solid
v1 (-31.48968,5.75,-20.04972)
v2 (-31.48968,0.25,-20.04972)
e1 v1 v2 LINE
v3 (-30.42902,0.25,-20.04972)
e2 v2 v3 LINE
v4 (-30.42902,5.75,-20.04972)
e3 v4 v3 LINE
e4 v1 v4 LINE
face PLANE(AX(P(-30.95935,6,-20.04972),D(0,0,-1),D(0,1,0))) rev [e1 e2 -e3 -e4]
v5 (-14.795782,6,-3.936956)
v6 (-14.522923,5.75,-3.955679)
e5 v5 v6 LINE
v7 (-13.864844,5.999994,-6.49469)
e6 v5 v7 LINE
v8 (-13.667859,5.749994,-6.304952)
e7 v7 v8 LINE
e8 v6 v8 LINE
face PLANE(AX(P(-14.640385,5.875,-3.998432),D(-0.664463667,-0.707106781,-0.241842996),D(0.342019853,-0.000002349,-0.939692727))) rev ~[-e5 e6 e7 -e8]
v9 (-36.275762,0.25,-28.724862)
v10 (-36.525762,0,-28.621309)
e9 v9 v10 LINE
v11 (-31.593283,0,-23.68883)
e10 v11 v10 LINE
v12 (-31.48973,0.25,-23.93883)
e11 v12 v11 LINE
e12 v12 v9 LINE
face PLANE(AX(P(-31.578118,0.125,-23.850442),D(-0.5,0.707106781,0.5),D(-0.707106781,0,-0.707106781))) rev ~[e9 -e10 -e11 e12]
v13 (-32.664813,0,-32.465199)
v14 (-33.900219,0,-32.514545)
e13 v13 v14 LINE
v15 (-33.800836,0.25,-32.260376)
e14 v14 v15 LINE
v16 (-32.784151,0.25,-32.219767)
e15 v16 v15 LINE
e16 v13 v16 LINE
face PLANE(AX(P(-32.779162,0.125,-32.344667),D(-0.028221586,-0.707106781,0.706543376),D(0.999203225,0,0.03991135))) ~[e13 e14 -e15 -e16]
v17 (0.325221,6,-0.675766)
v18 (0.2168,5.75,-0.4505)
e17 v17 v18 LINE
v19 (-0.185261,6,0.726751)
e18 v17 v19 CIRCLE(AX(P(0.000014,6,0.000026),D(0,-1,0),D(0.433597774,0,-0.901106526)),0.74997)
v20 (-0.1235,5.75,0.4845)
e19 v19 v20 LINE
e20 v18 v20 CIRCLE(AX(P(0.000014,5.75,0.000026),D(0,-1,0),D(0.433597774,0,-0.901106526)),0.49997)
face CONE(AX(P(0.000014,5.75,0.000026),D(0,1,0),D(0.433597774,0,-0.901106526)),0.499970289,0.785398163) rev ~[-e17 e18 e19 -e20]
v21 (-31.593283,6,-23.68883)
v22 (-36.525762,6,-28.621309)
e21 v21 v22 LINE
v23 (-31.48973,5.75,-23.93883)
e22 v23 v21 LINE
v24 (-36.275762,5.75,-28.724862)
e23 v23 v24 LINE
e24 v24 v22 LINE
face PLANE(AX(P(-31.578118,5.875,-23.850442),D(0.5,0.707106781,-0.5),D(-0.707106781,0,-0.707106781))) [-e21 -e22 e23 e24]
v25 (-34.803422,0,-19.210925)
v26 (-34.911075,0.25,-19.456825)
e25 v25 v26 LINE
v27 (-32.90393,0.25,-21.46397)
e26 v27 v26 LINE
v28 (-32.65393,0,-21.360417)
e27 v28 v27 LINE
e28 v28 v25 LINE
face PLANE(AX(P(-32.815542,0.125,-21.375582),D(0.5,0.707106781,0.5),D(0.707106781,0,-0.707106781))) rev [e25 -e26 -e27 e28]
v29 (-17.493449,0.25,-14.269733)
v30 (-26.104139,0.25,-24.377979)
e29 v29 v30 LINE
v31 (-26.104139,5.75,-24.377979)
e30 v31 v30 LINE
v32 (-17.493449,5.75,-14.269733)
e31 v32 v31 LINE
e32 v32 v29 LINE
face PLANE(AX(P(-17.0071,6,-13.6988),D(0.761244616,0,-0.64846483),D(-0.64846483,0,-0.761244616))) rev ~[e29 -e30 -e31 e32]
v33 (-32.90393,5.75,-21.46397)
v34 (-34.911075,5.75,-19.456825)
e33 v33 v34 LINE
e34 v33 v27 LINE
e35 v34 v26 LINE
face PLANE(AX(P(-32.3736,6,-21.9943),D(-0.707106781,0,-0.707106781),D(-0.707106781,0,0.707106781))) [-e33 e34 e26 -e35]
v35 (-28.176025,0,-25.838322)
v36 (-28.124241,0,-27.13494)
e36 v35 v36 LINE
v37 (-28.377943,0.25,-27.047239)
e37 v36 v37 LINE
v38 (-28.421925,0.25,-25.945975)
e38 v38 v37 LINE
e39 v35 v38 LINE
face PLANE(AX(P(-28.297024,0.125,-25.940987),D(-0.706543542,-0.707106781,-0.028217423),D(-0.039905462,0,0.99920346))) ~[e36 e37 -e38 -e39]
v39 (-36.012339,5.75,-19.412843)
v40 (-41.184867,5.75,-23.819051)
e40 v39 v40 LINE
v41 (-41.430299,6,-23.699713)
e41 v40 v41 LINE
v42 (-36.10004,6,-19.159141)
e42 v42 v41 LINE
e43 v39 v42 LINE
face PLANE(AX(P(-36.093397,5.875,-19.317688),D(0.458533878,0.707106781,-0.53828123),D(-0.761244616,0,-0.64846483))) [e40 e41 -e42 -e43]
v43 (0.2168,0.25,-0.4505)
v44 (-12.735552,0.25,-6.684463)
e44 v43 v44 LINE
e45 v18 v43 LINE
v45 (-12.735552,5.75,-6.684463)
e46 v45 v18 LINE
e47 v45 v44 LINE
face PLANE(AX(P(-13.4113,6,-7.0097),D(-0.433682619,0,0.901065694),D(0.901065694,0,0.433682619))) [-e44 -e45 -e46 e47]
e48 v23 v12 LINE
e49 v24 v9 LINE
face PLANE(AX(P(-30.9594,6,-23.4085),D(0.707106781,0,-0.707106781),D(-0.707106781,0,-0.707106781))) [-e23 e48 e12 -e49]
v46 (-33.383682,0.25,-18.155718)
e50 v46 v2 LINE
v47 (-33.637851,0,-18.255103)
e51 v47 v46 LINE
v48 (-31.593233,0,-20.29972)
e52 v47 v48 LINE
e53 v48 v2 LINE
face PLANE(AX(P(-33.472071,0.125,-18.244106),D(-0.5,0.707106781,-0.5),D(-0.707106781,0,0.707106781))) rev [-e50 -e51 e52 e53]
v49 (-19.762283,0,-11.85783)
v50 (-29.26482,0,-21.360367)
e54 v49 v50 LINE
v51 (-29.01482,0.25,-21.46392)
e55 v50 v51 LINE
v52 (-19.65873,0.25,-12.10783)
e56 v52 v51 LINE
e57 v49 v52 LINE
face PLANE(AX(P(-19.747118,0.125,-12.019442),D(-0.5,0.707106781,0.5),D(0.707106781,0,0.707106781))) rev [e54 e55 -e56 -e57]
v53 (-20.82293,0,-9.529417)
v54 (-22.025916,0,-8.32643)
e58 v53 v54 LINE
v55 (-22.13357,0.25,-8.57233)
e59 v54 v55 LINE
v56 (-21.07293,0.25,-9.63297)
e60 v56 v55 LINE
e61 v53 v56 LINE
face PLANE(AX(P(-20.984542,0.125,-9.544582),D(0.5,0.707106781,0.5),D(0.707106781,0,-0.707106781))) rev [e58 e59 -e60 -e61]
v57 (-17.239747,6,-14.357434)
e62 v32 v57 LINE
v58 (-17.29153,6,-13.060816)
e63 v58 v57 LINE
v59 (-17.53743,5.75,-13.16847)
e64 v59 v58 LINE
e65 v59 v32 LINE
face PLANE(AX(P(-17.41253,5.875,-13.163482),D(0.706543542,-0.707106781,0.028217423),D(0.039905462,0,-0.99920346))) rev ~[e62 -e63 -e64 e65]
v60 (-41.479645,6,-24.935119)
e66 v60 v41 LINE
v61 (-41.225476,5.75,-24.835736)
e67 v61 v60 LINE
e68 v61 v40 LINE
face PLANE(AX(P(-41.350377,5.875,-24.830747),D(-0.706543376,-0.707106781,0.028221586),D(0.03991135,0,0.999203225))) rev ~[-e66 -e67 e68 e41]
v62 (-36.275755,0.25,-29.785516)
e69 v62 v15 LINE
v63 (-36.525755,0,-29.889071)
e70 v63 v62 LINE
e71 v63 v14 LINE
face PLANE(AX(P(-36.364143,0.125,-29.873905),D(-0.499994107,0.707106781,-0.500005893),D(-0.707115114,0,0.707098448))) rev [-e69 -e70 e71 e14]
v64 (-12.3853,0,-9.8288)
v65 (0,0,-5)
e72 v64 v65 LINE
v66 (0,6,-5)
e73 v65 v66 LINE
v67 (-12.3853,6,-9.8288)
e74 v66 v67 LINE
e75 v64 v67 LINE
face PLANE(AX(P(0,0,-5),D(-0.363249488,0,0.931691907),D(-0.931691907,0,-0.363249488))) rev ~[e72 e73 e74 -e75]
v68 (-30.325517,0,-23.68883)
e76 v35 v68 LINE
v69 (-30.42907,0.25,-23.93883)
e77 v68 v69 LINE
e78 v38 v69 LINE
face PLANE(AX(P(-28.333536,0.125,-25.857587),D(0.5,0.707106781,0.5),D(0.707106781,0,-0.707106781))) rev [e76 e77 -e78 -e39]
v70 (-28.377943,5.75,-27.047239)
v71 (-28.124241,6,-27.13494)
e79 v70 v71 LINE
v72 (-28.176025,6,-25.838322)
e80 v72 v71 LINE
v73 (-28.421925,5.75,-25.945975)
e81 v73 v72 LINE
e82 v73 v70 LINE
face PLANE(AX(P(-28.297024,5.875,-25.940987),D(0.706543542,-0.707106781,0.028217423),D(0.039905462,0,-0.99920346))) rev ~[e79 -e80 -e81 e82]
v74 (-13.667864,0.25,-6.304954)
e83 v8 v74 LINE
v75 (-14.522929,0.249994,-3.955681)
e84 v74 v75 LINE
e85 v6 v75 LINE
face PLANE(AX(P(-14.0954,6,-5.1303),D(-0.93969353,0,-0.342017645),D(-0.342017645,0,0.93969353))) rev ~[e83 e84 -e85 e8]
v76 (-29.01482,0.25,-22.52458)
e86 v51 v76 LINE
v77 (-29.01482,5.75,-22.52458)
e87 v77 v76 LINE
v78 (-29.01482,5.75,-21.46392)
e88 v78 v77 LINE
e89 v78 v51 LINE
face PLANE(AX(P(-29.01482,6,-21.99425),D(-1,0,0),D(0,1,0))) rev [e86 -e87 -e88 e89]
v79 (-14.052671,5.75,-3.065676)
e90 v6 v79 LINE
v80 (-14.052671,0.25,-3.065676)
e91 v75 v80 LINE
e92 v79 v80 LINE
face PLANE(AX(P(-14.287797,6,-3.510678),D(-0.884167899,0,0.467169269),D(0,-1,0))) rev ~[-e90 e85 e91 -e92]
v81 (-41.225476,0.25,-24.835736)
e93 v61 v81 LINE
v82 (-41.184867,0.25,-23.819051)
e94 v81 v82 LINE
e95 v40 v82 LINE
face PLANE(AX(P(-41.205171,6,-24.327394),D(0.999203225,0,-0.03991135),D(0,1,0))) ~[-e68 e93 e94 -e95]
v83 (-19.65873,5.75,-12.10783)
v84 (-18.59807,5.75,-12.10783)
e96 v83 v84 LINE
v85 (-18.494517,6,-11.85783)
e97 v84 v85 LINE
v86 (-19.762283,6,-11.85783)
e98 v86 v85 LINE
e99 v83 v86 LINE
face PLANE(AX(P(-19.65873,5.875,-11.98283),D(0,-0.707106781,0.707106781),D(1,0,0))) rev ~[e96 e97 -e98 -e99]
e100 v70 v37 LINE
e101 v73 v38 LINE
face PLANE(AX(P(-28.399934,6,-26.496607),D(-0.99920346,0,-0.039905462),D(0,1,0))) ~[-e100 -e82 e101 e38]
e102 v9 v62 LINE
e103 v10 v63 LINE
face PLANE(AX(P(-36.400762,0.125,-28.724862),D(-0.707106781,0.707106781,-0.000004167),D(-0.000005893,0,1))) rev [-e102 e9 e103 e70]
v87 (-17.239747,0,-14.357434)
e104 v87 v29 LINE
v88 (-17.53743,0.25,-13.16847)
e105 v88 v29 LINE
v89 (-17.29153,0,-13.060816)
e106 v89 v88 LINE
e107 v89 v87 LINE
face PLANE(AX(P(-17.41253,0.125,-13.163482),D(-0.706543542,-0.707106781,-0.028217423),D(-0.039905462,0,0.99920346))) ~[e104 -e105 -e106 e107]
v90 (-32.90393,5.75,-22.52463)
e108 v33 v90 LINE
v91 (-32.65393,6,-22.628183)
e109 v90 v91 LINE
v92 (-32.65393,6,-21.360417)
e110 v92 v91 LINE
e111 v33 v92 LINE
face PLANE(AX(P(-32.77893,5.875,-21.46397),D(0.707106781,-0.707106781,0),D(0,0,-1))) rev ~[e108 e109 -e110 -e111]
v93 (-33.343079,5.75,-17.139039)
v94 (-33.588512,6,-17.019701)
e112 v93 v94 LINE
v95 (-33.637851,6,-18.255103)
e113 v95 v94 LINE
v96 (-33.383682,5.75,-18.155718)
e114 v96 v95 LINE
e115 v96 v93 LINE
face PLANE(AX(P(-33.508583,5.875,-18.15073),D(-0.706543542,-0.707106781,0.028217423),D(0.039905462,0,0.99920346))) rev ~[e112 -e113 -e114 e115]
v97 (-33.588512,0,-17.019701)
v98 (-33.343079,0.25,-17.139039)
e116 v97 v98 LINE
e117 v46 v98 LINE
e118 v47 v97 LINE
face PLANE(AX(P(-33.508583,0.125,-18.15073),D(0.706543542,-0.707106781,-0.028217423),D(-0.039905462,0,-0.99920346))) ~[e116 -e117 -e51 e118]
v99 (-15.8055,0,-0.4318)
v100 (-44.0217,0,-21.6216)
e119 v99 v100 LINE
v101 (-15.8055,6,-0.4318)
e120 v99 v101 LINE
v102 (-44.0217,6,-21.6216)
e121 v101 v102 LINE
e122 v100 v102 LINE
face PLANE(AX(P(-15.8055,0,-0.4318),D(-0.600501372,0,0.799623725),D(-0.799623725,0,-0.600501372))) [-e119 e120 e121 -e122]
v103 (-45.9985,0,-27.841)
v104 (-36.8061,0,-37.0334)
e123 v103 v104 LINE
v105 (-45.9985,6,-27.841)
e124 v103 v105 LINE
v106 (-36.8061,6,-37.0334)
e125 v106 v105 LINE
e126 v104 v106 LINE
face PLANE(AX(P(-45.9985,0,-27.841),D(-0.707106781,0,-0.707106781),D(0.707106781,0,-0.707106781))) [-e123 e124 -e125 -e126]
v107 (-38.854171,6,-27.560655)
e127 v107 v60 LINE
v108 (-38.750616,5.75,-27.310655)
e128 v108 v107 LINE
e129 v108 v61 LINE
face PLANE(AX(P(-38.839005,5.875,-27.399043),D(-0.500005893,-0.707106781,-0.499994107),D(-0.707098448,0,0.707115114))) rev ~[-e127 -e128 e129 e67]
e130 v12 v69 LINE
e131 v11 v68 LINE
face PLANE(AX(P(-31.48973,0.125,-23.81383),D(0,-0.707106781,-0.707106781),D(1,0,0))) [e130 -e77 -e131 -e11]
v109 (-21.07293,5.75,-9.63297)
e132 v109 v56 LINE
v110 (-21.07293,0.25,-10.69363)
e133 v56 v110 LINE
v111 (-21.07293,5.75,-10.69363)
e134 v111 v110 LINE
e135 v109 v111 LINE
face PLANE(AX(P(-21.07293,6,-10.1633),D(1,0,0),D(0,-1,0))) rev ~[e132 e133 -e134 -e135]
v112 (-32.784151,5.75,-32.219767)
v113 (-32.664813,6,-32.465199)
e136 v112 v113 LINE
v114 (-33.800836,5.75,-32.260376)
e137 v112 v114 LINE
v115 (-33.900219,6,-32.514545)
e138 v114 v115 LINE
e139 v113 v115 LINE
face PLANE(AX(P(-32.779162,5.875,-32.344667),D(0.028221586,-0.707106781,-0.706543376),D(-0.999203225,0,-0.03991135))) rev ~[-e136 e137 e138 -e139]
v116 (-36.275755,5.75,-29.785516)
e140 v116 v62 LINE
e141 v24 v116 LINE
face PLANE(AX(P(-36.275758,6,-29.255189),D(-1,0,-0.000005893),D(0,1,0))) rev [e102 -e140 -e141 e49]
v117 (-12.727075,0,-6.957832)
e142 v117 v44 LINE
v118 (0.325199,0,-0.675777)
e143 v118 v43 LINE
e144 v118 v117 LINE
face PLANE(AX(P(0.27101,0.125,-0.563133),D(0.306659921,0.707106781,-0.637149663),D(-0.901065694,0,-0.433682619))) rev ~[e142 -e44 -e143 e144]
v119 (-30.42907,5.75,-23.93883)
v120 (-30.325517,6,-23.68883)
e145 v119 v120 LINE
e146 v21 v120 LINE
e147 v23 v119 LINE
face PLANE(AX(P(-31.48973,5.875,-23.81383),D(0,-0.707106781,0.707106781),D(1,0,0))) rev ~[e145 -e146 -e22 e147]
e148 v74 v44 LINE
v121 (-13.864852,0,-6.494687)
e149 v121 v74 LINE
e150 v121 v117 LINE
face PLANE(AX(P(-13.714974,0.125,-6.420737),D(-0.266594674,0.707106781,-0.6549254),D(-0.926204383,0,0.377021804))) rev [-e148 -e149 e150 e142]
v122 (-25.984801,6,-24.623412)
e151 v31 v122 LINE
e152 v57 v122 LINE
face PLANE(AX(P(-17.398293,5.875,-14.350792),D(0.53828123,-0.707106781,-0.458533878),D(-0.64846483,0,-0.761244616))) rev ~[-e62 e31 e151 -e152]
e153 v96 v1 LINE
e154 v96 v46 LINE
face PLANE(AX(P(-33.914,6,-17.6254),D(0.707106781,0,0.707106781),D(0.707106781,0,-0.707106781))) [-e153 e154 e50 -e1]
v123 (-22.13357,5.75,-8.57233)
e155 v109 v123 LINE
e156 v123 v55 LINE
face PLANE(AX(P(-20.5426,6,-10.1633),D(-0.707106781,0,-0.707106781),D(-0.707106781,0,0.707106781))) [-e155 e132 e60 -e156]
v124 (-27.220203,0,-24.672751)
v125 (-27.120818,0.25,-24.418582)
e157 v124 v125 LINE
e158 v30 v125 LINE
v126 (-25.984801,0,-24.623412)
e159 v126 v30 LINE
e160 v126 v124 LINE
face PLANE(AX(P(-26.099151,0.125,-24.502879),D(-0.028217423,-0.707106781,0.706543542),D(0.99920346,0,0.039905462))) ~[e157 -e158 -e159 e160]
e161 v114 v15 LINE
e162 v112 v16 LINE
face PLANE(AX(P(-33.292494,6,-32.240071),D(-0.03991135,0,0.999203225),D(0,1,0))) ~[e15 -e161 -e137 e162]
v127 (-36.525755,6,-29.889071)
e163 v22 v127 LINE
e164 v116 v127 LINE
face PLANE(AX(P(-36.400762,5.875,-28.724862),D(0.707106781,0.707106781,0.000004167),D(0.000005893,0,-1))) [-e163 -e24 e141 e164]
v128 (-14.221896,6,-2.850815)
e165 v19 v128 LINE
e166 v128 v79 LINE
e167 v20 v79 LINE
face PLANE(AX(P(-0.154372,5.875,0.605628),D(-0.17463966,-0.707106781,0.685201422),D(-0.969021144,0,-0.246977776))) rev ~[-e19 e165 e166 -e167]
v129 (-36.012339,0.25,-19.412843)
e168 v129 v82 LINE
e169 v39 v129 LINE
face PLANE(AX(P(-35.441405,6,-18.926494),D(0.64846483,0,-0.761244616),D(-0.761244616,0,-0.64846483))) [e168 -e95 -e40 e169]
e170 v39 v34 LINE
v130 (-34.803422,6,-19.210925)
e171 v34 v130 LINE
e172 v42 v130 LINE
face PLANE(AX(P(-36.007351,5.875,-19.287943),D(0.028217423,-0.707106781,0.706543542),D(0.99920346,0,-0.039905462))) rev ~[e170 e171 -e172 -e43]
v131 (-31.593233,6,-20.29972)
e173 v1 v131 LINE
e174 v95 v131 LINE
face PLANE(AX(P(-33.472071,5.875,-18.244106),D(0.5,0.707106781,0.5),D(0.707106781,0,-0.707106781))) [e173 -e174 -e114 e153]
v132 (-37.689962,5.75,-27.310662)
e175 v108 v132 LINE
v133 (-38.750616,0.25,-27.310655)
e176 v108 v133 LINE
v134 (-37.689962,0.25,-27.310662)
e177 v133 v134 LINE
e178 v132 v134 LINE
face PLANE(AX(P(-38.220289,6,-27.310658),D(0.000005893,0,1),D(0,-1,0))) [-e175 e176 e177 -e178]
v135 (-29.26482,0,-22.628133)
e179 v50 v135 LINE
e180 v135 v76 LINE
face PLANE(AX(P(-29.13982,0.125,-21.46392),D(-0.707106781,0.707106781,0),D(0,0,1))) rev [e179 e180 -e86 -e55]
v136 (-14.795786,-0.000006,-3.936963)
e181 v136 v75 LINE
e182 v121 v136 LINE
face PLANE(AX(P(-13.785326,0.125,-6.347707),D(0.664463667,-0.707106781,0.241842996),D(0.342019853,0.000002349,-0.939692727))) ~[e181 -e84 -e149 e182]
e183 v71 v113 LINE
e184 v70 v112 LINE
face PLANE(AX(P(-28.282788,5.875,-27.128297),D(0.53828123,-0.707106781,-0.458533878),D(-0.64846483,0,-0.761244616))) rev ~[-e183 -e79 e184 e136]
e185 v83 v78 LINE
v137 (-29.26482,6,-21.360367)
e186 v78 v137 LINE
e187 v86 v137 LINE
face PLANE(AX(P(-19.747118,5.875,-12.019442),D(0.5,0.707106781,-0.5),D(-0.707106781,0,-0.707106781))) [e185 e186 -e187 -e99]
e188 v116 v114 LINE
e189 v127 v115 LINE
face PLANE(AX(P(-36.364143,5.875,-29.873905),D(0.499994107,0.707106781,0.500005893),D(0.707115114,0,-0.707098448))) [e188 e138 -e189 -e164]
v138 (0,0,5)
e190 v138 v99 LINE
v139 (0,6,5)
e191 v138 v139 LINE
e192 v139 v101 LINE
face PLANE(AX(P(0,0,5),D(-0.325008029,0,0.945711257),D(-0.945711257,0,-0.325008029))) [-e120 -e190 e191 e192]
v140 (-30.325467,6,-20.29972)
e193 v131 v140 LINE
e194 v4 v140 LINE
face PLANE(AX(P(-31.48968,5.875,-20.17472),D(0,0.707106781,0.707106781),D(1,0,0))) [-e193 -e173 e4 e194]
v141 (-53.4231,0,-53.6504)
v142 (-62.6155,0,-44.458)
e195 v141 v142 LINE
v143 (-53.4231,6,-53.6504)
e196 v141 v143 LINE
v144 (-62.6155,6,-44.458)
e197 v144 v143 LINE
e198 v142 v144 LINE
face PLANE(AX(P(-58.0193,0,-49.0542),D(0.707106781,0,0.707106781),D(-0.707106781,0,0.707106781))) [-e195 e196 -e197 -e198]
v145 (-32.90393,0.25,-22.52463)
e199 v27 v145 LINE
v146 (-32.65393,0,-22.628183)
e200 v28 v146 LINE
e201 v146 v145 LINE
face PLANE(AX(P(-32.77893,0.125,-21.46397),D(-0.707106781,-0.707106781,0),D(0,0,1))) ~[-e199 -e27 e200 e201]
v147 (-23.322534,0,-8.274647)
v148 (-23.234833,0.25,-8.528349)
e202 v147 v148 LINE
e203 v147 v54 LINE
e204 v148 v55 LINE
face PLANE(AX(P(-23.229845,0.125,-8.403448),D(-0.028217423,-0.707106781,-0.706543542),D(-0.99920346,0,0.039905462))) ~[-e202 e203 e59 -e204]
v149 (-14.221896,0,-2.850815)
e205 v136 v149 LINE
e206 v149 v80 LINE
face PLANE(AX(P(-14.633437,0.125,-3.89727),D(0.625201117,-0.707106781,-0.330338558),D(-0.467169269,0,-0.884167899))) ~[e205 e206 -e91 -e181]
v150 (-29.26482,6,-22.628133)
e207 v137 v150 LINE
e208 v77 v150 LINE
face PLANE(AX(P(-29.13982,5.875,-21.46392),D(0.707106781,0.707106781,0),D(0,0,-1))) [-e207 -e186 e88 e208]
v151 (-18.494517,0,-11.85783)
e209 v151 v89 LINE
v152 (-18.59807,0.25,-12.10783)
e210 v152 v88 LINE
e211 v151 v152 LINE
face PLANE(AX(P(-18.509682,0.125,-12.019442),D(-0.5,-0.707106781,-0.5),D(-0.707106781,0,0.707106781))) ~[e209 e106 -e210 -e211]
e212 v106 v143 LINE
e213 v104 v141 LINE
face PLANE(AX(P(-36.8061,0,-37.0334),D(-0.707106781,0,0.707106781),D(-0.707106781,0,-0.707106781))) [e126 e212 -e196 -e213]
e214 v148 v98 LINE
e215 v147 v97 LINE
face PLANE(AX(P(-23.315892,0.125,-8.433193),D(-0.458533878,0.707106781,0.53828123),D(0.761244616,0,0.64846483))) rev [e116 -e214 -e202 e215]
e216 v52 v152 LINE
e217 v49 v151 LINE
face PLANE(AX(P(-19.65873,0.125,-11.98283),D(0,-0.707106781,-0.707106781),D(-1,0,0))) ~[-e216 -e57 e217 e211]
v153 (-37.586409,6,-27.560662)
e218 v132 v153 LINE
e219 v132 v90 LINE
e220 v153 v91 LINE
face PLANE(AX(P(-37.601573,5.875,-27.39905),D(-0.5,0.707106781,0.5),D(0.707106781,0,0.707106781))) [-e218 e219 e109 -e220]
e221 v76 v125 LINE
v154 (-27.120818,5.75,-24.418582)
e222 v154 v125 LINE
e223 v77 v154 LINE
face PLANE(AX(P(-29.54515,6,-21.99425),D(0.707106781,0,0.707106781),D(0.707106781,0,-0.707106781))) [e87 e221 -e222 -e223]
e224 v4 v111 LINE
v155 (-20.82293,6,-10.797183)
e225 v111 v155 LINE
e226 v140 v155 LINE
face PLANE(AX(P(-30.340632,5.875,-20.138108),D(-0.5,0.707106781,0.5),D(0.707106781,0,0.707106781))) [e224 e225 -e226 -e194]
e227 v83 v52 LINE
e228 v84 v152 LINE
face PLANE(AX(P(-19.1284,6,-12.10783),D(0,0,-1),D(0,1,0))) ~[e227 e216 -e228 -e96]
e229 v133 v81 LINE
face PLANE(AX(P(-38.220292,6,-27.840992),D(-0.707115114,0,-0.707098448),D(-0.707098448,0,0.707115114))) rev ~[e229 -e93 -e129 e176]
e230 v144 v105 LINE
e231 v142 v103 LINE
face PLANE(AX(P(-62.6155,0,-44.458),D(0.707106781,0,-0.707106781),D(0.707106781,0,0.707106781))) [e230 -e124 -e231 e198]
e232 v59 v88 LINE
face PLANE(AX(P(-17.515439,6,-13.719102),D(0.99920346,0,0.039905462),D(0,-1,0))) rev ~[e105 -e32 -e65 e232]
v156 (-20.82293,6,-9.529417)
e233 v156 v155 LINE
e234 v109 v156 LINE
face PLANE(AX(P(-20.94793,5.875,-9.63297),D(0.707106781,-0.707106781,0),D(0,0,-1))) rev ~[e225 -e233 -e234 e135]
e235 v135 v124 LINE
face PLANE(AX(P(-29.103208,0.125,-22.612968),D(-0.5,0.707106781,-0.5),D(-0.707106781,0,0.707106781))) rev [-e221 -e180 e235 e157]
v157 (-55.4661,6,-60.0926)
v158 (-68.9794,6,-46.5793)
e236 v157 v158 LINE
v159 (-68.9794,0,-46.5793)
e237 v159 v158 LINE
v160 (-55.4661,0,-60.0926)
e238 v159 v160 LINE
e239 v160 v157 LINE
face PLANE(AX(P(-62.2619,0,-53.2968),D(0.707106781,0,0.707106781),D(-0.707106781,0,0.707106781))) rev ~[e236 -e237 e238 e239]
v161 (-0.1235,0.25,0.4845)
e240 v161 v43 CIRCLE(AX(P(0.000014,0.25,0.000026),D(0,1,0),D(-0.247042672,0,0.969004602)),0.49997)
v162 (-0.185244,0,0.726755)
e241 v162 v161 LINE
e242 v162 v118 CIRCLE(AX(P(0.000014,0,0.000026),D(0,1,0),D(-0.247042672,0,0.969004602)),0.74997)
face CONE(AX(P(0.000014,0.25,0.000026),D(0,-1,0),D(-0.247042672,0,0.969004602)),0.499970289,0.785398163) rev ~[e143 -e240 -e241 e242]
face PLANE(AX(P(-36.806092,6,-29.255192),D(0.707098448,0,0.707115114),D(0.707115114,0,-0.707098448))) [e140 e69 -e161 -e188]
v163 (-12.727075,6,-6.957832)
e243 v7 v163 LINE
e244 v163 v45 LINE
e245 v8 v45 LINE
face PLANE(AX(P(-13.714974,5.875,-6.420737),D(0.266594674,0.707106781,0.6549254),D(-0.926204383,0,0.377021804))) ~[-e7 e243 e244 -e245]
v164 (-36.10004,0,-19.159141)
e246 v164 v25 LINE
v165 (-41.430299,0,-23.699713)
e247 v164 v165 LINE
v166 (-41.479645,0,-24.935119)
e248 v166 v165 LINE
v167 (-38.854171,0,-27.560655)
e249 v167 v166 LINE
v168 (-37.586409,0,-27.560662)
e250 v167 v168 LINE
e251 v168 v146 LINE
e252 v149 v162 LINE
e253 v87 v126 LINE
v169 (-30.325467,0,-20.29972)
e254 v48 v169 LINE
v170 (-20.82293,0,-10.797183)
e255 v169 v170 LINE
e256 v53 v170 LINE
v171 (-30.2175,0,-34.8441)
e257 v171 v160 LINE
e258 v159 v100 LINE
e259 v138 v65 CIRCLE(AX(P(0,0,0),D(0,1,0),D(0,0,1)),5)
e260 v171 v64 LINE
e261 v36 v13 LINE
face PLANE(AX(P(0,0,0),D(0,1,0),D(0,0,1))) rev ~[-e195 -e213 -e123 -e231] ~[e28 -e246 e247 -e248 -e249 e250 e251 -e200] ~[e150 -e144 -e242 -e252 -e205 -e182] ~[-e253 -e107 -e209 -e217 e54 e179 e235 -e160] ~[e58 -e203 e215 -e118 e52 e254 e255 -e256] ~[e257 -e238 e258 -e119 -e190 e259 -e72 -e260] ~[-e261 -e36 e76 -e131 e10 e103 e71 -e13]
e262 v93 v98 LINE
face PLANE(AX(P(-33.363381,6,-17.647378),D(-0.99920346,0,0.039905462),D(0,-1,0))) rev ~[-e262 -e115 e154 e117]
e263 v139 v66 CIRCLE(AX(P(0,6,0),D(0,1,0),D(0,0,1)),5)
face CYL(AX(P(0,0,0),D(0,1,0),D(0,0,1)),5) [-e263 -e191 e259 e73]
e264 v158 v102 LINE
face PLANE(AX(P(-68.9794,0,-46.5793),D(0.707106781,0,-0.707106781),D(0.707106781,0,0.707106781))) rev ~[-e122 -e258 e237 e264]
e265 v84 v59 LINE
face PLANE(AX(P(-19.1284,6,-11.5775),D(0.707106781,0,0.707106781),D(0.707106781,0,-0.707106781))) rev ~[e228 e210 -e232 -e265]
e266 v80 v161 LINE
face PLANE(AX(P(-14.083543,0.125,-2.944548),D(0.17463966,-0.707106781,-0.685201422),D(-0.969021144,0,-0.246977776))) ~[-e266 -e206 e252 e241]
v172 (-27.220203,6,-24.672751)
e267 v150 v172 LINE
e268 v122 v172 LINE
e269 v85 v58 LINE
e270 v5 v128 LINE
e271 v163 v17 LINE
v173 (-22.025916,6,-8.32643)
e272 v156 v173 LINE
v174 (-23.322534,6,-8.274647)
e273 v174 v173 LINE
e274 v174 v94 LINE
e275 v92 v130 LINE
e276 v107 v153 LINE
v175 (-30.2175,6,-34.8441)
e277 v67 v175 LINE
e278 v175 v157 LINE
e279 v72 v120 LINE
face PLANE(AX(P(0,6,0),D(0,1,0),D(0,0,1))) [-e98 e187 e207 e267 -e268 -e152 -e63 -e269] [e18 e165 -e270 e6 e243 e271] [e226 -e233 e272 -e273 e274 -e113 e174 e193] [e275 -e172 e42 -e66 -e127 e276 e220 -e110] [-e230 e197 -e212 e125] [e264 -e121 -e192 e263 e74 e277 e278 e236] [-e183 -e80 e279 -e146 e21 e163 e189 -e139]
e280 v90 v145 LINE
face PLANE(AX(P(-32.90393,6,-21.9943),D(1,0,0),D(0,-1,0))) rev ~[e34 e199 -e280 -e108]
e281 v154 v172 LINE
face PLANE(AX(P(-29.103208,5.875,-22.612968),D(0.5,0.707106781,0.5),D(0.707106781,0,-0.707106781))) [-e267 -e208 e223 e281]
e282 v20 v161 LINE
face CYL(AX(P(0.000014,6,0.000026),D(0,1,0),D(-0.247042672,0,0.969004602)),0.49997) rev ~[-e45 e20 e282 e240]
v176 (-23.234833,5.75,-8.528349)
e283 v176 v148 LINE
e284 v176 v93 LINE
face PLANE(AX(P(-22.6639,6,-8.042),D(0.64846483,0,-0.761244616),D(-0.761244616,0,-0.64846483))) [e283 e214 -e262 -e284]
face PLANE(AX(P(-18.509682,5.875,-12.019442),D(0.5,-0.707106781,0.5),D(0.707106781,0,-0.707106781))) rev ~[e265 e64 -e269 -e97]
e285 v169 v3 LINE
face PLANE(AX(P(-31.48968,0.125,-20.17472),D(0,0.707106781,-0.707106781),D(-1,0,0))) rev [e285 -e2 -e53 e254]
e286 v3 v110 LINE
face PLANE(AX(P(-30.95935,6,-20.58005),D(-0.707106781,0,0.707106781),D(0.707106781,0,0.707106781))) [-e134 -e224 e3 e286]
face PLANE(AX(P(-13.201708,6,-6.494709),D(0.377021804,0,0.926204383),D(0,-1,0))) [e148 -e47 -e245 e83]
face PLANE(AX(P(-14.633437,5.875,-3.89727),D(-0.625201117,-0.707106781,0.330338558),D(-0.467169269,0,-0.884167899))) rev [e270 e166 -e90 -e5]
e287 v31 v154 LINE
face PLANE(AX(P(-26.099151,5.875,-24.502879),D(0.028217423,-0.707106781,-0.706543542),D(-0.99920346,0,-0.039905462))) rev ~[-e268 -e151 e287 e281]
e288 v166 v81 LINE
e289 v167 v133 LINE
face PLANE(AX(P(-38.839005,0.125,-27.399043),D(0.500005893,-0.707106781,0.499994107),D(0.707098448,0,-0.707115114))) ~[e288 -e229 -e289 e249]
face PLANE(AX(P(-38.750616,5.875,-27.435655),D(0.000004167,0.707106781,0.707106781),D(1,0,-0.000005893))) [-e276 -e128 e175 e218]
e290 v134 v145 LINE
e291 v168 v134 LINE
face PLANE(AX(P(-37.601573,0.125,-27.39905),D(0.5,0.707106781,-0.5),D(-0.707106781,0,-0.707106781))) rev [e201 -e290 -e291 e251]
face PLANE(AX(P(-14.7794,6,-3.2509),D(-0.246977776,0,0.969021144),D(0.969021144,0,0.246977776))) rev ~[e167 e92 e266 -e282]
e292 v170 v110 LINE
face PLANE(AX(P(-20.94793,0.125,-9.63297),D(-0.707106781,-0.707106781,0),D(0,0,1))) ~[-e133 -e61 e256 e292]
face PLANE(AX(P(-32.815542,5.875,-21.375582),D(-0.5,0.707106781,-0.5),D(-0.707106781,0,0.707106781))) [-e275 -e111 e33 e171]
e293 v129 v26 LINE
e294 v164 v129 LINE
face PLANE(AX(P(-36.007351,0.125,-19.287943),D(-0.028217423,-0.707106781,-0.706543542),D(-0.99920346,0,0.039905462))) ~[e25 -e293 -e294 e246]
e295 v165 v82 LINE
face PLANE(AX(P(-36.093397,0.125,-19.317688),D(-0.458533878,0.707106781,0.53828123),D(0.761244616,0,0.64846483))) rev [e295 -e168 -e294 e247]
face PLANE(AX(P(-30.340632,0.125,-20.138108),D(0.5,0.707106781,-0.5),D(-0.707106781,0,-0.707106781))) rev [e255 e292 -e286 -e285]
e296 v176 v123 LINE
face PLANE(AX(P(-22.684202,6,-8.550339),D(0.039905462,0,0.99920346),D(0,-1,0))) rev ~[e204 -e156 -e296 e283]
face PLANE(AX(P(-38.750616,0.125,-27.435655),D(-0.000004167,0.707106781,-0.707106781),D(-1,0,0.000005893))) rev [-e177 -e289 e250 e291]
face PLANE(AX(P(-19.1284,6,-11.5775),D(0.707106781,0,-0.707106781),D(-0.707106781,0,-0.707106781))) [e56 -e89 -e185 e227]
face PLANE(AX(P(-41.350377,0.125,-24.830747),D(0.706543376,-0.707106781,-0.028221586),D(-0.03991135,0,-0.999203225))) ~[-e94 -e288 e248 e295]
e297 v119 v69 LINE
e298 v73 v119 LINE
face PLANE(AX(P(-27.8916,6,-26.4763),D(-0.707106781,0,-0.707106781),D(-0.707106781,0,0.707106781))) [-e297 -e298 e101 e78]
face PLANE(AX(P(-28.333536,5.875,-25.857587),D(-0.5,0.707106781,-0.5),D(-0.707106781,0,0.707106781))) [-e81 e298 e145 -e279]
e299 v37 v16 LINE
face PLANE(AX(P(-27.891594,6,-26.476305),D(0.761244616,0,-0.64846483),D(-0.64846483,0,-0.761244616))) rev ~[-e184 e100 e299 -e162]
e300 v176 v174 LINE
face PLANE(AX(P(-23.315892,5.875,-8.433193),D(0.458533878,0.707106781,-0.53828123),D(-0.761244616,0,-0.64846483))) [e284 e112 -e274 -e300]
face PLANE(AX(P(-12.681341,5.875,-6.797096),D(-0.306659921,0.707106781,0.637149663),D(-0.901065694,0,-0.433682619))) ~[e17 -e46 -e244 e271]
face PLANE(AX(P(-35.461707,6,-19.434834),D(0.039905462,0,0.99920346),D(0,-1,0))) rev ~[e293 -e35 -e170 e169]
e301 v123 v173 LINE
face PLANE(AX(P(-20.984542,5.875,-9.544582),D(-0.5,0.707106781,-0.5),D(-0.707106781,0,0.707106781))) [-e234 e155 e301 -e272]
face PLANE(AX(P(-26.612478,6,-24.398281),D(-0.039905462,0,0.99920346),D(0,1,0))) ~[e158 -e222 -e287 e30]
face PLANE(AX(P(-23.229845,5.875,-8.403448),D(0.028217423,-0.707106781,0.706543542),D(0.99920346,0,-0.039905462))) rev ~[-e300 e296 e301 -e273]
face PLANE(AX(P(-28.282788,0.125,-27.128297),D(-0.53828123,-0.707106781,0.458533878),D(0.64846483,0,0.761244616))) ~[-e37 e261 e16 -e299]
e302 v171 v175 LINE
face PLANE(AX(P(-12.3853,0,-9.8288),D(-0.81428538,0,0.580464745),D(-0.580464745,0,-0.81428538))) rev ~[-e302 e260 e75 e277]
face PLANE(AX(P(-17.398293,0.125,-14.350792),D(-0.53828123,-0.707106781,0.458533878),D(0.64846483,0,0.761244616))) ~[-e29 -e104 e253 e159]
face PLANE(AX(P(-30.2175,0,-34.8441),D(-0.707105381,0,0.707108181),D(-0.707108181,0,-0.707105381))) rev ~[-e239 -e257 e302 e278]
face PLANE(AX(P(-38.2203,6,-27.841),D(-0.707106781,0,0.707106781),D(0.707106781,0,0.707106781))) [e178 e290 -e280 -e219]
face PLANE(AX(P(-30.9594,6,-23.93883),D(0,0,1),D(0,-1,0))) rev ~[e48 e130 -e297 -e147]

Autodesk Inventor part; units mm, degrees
ref_plane "YZ Plane" through (0, 0, 0) normal (1, 0, 0) x (0, 1, 0)
ref_plane "XZ Plane" through (0, 0, 0) normal (0, 1, 0) x (-1, 0, 0)
ref_plane "XY Plane" through (0, 0, 0) normal (0, 0, 1) x (1, 0, 0)
sketch "Sketch1" plane through (0, 0, 0) normal (0, 1, 0) x (-1, 0, 0)
  line L0 (0, 0) -> (14.0954, -5.1303)
  line L1 (0, 0) -> (0, -5)
  line L2 (14.0954, -5.1303) -> (68.7081, -59.743)
  line L3 (0, 0) -> (53.7766, -44.8115)
  line L4 (0, 0) -> (0, 5)
  line L5 (14.0954, -5.1303) -> (15.8055, -0.4318)
  line L6 (14.0954, -5.1303) -> (12.3853, -9.8288)
  line L7 (0, 5) -> (15.8055, -0.4318)
  line L8 (0, -5) -> (12.3853, -9.8288)
  line L9 (36.8061, -37.0334) -> (53.4231, -53.6504)
  line L10 (53.4231, -53.6504) -> (62.6155, -44.458)
  line L11 (62.6155, -44.458) -> (45.9985, -27.841)
  line L12 (45.9985, -27.841) -> (36.8061, -37.0334)
  line L13 (36.8061, -37.0334) -> (62.6155, -44.458) construction
  line L14 (53.4231, -53.6504) -> (45.9985, -27.841) construction
  line L15 (30.2175, -34.8441) -> (55.4661, -60.0926)
  line L16 (55.4661, -60.0926) -> (68.9794, -46.5793)
  line L17 (68.9794, -46.5793) -> (44.0217, -21.6216)
  line L18 (37.7253, -28.7602) -> (36.2657, -30.2198)
  line L19 (30.2175, -34.8441) -> (68.9794, -46.5793) construction
  line L20 (55.4661, -60.0926) -> (44.0217, -21.6216) construction
  line L21 (15.8055, -0.4318) -> (44.0217, -21.6216)
  line L22 (12.3853, -9.8288) -> (30.2175, -34.8441)
  point P0 (49.7108, -40.7457)
  dimension "d10" = 15
  dimension "d11" = 70
  dimension "d12" = 155
  dimension "d13" = 70
  dimension "d14" = 5
  dimension "d15" = 5
  dimension "d16" = 5
  dimension "d17" = 5
  dimension "d18" = 6
  dimension "d19" = 13
  dimension "d20" = 23.5
  dimension "d21" = 6
  dimension "d22" = 3
  dimension "d23" = 56.1178
extrude "Extrusion1" add sketch "Sketch1" along normal blind 6 contours L4 L7 L5 L0 | L3 L8 L1 | L0 L6 L8 L3 | L5 L21 L17 L16 L2 L10 L11 L12 | L2 L18 L3 L22 L6 | L2 L12 L3 L18 | L3 L12 L9 L10 L2 L16 L15 L22
sketch "Sketch2" plane through (0, 0, 5) normal (1, 0, 0) x (0, 0, -1)
  line L0 (0, 0) -> (10, 0) projected
  line L1 (10, 0) -> (10, 6) projected
  line L2 (0, 6) -> (10, 6) projected
  line L3 (0, 0) -> (0, 6) projected
  line L4 (5, 6) -> (5, 0)
revolve "Revolution1" add sketch "Sketch2" angle 180 about axis through (0, 6, 0) along (0, 1, 0) contours L3 L2 L4 L0
sketch "Sketch3" plane through (0, 6, 0) normal (0, 1, 0) x (1, 0, 0)
  line L0 (0, 5) -> (-12.3853, 9.8288) projected
  line L1 (-12.3853, 9.8288) -> (-30.2175, 34.8441) projected
  line L2 (-30.2175, 34.8441) -> (-55.4661, 60.0926) projected
  line L3 (-55.4661, 60.0926) -> (-68.9794, 46.5793) projected
  line L4 (-68.9794, 46.5793) -> (-44.0217, 21.6216) projected
  line L5 (-44.0217, 21.6216) -> (-15.8055, 0.4318) projected
  line L6 (-15.8055, 0.4318) -> (0, -5) projected
  arc A0 (0, -5) -> (0, 5) centre (0, 0) ccw projected
  line L7 (-36.8061, 37.0334) -> (-45.9985, 27.841) projected
  line L8 (-45.9985, 27.841) -> (-62.6155, 44.458) projected
  line L9 (-62.6155, 44.458) -> (-53.4231, 53.6504) projected
  line L10 (-53.4231, 53.6504) -> (-36.8061, 37.0334) projected
  line L11 (-44.0217, 21.6216) -> (-15.8055, 0.4318) projected
  line L12 (0, 0) -> (-14.0954, 5.1303)
  line L13 (-12.3853, 9.8288) -> (-30.2175, 34.8441) projected
  line L14 (-12.3853, 9.8288) -> (-15.8055, 0.4318)
  arc A1 (-0.1235, -0.4845) -> (0.2168, 0.4505) centre (0, 0) ccw
  line L15 (-14.0954, 5.1303) -> (-14.7794, 3.2509)
  line L16 (-14.0954, 5.1303) -> (-13.4113, 7.0097)
  line L17 (-14.7794, 3.2509) -> (-0.1235, -0.4845)
  line L18 (-13.4113, 7.0097) -> (0.2168, 0.4505)
  line L19 (-36.8061, 37.0334) -> (-45.9985, 27.841) projected
  line L20 (-41.4023, 32.4372) -> (-16.3159, 7.3508)
  line L21 (-36.8061, 37.0334) -> (-45.9985, 27.841) projected
  line L22 (-37.5132, 28.5481) -> (-33.2705, 32.7907)
  line L23 (-37.5132, 28.5481) -> (-41.7558, 24.3054)
  line L24 (-19.8355, 10.8704) -> (-22.6639, 8.042)
  line L25 (-19.8355, 10.8704) -> (-17.0071, 13.6988)
  line L26 (-17.0071, 13.6988) -> (-33.2705, 32.7907)
  line L27 (-22.6639, 8.042) -> (-41.7558, 24.3054)
  line L28 (-38.2203, 27.841) -> (-20.5426, 10.1633)
  line L29 (-19.1284, 11.5775) -> (-36.8061, 29.2552)
  line L30 (-27.8916, 26.4763) -> (-35.4414, 18.9265)
  line L31 (-33.914, 17.6254) -> (-26.5905, 24.9489)
  line L32 (-26.0922, 25.4497) -> (-34.877, 17.4267) construction
  line L33 (-34.4148, 17.1271) -> (-26.3917, 25.9119) construction
  line L34 (-30.4421, 21.477) -> (-34.1191, 17.8001)
  line L35 (-36.1498, 17.9923) -> (-36.176, 17.9662)
  point P0 (0, 0)
  point P1 (-30.9594, 23.4085)
  point P2 (-32.3736, 21.9943)
  point P3 (-30.9594, 20.5801)
  point P4 (-29.5452, 21.9943)
  dimension "d40" = 1
  dimension "d41" = 2
  dimension "d42" = 2
  dimension "d53" = 6
  dimension "d54" = 6
  dimension "d55" = 4
  dimension "d56" = 4
  dimension "d57" = 25
  dimension "d58" = 1
  dimension "d59" = 1
  dimension "d60" = 15
  dimension "d61" = 2
  dimension "d67" = 5.5
extrude "Extrusion3" cut sketch "Sketch3" against normal blind 6 contours L18 A1 L17 L14 | L22 L26 L30 L29 | L28 L30 L27 L23 | L31 L26 L25 L29 | L28 L24 L27 L31
chamfer "Chamfer3" distance 0.75 angle 45 18 edges at (-41.7558, 3, -24.3054) (-36.8061, 3, -29.2552) (-33.914, 3, -17.6254) (-29.5452, 3, -21.9943) (-33.2705, 3, -32.7907) (-38.2203, 3, -27.841) (-30.9594, 3, -20.5801) (-26.5905, 3, -24.9489) (-22.6639, 3, -8.042) (-35.4414, 3, -18.9265) (-30.9594, 3, -23.4085) (-19.1284, 3, -11.5775) (-32.3736, 3, -21.9943) (-20.5426, 3, -10.1633) (-17.0071, 3, -13.6988) (-27.8916, 3, -26.4763) (-14.7794, 3, -3.2509) (-13.4113, 3, -7.0097)
chamfer "Chamfer4" distance 0.25 angle 45 32 edges at (-30.581, 6, -29.6335) (-33.2925, 6, -32.2401) (-35.0383, 6, -31.023) (-36.2757, 6, -29.2552) (-33.8827, 6, -26.3318) (-30.9594, 6, -23.9388) (-29.4255, 6, -24.9424) (-28.3999, 6, -26.4966) (-39.988, 6, -26.0732) (-38.2203, 6, -27.3106) (-35.2969, 6, -24.9176) (-32.9039, 6, -21.9943) (-33.9075, 6, -20.4604) (-35.4617, 6, -19.4348) (-38.5986, 6, -21.616) (-41.2052, 6, -24.3274) (-28.0678, 6, -23.4716) (-29.0148, 6, -21.9943) (-24.3368, 6, -16.7859) (-26.6125, 6, -24.3983) (-21.7988, 6, -19.3239) (-32.4367, 6, -19.1027) (-30.9594, 6, -20.0497) (-25.751, 6, -15.3717) (-33.3634, 6, -17.6474) (-28.289, 6, -12.8337) (-22.6842, 6, -8.5503) (-21.6033, 6, -9.1026) (-21.0729, 6, -10.1633) (-19.1284, 6, -12.1079) (-18.0677, 6, -12.6382) (-17.5154, 6, -13.7191)
chamfer "Chamfer5" distance 0.25 angle 45 42 edges at (-6.2594, 6, -3.5675) (-7.0881, 6, -1.2906) (-14.0954, 6, -5.1303) (-13.2017, 6, -6.4947) (-14.2878, 6, -3.5107) (-35.2969, 0, -24.9176) (-38.2203, 0, -27.3106) (-39.988, 0, -26.0732) (-41.2052, 0, -24.3274) (-38.5986, 0, -21.616) (-35.4617, 0, -19.4348) (-33.9075, 0, -20.4604) (-32.9039, 0, -21.9943) (-33.8827, 0, -26.3318) (-36.2757, 0, -29.2552) (-35.0383, 0, -31.023) (-33.2925, 0, -32.2401) (-30.581, 0, -29.6335) (-28.3999, 0, -26.4966) (-29.4255, 0, -24.9424) (-30.9594, 0, -23.9388) (-28.0678, 0, -23.4716) (-29.0148, 0, -21.9943) (-24.3368, 0, -16.7859) (-26.6125, 0, -24.3983) (-21.7988, 0, -19.3239) (-19.1284, 0, -12.1079) (-18.0677, 0, -12.6382) (-17.5154, 0, -13.7191) (-14.0954, 0, -5.1303) (-14.2878, 0, -3.5107) (-7.0881, 0, -1.2906) (-6.2594, 0, -3.5675) (-13.2017, 0, -6.4947) (-28.289, 0, -12.8337) (-33.3634, 0, -17.6474) (-32.4367, 0, -19.1027) (-30.9594, 0, -20.0497) (-25.751, 0, -15.3717) (-21.0729, 0, -10.1633) (-21.6033, 0, -9.1026) (-22.6842, 0, -8.5503)
equation "\"d15\" = d14"
equation "\"d17\" = d16"
equation "\"d42\" = d41"
equation "\"d54\" = d53"
equation "\"d56\" = d55"
equation "\"d59\" = d58"
properties part number "Lower_Limb" material "ABS Plastic"
